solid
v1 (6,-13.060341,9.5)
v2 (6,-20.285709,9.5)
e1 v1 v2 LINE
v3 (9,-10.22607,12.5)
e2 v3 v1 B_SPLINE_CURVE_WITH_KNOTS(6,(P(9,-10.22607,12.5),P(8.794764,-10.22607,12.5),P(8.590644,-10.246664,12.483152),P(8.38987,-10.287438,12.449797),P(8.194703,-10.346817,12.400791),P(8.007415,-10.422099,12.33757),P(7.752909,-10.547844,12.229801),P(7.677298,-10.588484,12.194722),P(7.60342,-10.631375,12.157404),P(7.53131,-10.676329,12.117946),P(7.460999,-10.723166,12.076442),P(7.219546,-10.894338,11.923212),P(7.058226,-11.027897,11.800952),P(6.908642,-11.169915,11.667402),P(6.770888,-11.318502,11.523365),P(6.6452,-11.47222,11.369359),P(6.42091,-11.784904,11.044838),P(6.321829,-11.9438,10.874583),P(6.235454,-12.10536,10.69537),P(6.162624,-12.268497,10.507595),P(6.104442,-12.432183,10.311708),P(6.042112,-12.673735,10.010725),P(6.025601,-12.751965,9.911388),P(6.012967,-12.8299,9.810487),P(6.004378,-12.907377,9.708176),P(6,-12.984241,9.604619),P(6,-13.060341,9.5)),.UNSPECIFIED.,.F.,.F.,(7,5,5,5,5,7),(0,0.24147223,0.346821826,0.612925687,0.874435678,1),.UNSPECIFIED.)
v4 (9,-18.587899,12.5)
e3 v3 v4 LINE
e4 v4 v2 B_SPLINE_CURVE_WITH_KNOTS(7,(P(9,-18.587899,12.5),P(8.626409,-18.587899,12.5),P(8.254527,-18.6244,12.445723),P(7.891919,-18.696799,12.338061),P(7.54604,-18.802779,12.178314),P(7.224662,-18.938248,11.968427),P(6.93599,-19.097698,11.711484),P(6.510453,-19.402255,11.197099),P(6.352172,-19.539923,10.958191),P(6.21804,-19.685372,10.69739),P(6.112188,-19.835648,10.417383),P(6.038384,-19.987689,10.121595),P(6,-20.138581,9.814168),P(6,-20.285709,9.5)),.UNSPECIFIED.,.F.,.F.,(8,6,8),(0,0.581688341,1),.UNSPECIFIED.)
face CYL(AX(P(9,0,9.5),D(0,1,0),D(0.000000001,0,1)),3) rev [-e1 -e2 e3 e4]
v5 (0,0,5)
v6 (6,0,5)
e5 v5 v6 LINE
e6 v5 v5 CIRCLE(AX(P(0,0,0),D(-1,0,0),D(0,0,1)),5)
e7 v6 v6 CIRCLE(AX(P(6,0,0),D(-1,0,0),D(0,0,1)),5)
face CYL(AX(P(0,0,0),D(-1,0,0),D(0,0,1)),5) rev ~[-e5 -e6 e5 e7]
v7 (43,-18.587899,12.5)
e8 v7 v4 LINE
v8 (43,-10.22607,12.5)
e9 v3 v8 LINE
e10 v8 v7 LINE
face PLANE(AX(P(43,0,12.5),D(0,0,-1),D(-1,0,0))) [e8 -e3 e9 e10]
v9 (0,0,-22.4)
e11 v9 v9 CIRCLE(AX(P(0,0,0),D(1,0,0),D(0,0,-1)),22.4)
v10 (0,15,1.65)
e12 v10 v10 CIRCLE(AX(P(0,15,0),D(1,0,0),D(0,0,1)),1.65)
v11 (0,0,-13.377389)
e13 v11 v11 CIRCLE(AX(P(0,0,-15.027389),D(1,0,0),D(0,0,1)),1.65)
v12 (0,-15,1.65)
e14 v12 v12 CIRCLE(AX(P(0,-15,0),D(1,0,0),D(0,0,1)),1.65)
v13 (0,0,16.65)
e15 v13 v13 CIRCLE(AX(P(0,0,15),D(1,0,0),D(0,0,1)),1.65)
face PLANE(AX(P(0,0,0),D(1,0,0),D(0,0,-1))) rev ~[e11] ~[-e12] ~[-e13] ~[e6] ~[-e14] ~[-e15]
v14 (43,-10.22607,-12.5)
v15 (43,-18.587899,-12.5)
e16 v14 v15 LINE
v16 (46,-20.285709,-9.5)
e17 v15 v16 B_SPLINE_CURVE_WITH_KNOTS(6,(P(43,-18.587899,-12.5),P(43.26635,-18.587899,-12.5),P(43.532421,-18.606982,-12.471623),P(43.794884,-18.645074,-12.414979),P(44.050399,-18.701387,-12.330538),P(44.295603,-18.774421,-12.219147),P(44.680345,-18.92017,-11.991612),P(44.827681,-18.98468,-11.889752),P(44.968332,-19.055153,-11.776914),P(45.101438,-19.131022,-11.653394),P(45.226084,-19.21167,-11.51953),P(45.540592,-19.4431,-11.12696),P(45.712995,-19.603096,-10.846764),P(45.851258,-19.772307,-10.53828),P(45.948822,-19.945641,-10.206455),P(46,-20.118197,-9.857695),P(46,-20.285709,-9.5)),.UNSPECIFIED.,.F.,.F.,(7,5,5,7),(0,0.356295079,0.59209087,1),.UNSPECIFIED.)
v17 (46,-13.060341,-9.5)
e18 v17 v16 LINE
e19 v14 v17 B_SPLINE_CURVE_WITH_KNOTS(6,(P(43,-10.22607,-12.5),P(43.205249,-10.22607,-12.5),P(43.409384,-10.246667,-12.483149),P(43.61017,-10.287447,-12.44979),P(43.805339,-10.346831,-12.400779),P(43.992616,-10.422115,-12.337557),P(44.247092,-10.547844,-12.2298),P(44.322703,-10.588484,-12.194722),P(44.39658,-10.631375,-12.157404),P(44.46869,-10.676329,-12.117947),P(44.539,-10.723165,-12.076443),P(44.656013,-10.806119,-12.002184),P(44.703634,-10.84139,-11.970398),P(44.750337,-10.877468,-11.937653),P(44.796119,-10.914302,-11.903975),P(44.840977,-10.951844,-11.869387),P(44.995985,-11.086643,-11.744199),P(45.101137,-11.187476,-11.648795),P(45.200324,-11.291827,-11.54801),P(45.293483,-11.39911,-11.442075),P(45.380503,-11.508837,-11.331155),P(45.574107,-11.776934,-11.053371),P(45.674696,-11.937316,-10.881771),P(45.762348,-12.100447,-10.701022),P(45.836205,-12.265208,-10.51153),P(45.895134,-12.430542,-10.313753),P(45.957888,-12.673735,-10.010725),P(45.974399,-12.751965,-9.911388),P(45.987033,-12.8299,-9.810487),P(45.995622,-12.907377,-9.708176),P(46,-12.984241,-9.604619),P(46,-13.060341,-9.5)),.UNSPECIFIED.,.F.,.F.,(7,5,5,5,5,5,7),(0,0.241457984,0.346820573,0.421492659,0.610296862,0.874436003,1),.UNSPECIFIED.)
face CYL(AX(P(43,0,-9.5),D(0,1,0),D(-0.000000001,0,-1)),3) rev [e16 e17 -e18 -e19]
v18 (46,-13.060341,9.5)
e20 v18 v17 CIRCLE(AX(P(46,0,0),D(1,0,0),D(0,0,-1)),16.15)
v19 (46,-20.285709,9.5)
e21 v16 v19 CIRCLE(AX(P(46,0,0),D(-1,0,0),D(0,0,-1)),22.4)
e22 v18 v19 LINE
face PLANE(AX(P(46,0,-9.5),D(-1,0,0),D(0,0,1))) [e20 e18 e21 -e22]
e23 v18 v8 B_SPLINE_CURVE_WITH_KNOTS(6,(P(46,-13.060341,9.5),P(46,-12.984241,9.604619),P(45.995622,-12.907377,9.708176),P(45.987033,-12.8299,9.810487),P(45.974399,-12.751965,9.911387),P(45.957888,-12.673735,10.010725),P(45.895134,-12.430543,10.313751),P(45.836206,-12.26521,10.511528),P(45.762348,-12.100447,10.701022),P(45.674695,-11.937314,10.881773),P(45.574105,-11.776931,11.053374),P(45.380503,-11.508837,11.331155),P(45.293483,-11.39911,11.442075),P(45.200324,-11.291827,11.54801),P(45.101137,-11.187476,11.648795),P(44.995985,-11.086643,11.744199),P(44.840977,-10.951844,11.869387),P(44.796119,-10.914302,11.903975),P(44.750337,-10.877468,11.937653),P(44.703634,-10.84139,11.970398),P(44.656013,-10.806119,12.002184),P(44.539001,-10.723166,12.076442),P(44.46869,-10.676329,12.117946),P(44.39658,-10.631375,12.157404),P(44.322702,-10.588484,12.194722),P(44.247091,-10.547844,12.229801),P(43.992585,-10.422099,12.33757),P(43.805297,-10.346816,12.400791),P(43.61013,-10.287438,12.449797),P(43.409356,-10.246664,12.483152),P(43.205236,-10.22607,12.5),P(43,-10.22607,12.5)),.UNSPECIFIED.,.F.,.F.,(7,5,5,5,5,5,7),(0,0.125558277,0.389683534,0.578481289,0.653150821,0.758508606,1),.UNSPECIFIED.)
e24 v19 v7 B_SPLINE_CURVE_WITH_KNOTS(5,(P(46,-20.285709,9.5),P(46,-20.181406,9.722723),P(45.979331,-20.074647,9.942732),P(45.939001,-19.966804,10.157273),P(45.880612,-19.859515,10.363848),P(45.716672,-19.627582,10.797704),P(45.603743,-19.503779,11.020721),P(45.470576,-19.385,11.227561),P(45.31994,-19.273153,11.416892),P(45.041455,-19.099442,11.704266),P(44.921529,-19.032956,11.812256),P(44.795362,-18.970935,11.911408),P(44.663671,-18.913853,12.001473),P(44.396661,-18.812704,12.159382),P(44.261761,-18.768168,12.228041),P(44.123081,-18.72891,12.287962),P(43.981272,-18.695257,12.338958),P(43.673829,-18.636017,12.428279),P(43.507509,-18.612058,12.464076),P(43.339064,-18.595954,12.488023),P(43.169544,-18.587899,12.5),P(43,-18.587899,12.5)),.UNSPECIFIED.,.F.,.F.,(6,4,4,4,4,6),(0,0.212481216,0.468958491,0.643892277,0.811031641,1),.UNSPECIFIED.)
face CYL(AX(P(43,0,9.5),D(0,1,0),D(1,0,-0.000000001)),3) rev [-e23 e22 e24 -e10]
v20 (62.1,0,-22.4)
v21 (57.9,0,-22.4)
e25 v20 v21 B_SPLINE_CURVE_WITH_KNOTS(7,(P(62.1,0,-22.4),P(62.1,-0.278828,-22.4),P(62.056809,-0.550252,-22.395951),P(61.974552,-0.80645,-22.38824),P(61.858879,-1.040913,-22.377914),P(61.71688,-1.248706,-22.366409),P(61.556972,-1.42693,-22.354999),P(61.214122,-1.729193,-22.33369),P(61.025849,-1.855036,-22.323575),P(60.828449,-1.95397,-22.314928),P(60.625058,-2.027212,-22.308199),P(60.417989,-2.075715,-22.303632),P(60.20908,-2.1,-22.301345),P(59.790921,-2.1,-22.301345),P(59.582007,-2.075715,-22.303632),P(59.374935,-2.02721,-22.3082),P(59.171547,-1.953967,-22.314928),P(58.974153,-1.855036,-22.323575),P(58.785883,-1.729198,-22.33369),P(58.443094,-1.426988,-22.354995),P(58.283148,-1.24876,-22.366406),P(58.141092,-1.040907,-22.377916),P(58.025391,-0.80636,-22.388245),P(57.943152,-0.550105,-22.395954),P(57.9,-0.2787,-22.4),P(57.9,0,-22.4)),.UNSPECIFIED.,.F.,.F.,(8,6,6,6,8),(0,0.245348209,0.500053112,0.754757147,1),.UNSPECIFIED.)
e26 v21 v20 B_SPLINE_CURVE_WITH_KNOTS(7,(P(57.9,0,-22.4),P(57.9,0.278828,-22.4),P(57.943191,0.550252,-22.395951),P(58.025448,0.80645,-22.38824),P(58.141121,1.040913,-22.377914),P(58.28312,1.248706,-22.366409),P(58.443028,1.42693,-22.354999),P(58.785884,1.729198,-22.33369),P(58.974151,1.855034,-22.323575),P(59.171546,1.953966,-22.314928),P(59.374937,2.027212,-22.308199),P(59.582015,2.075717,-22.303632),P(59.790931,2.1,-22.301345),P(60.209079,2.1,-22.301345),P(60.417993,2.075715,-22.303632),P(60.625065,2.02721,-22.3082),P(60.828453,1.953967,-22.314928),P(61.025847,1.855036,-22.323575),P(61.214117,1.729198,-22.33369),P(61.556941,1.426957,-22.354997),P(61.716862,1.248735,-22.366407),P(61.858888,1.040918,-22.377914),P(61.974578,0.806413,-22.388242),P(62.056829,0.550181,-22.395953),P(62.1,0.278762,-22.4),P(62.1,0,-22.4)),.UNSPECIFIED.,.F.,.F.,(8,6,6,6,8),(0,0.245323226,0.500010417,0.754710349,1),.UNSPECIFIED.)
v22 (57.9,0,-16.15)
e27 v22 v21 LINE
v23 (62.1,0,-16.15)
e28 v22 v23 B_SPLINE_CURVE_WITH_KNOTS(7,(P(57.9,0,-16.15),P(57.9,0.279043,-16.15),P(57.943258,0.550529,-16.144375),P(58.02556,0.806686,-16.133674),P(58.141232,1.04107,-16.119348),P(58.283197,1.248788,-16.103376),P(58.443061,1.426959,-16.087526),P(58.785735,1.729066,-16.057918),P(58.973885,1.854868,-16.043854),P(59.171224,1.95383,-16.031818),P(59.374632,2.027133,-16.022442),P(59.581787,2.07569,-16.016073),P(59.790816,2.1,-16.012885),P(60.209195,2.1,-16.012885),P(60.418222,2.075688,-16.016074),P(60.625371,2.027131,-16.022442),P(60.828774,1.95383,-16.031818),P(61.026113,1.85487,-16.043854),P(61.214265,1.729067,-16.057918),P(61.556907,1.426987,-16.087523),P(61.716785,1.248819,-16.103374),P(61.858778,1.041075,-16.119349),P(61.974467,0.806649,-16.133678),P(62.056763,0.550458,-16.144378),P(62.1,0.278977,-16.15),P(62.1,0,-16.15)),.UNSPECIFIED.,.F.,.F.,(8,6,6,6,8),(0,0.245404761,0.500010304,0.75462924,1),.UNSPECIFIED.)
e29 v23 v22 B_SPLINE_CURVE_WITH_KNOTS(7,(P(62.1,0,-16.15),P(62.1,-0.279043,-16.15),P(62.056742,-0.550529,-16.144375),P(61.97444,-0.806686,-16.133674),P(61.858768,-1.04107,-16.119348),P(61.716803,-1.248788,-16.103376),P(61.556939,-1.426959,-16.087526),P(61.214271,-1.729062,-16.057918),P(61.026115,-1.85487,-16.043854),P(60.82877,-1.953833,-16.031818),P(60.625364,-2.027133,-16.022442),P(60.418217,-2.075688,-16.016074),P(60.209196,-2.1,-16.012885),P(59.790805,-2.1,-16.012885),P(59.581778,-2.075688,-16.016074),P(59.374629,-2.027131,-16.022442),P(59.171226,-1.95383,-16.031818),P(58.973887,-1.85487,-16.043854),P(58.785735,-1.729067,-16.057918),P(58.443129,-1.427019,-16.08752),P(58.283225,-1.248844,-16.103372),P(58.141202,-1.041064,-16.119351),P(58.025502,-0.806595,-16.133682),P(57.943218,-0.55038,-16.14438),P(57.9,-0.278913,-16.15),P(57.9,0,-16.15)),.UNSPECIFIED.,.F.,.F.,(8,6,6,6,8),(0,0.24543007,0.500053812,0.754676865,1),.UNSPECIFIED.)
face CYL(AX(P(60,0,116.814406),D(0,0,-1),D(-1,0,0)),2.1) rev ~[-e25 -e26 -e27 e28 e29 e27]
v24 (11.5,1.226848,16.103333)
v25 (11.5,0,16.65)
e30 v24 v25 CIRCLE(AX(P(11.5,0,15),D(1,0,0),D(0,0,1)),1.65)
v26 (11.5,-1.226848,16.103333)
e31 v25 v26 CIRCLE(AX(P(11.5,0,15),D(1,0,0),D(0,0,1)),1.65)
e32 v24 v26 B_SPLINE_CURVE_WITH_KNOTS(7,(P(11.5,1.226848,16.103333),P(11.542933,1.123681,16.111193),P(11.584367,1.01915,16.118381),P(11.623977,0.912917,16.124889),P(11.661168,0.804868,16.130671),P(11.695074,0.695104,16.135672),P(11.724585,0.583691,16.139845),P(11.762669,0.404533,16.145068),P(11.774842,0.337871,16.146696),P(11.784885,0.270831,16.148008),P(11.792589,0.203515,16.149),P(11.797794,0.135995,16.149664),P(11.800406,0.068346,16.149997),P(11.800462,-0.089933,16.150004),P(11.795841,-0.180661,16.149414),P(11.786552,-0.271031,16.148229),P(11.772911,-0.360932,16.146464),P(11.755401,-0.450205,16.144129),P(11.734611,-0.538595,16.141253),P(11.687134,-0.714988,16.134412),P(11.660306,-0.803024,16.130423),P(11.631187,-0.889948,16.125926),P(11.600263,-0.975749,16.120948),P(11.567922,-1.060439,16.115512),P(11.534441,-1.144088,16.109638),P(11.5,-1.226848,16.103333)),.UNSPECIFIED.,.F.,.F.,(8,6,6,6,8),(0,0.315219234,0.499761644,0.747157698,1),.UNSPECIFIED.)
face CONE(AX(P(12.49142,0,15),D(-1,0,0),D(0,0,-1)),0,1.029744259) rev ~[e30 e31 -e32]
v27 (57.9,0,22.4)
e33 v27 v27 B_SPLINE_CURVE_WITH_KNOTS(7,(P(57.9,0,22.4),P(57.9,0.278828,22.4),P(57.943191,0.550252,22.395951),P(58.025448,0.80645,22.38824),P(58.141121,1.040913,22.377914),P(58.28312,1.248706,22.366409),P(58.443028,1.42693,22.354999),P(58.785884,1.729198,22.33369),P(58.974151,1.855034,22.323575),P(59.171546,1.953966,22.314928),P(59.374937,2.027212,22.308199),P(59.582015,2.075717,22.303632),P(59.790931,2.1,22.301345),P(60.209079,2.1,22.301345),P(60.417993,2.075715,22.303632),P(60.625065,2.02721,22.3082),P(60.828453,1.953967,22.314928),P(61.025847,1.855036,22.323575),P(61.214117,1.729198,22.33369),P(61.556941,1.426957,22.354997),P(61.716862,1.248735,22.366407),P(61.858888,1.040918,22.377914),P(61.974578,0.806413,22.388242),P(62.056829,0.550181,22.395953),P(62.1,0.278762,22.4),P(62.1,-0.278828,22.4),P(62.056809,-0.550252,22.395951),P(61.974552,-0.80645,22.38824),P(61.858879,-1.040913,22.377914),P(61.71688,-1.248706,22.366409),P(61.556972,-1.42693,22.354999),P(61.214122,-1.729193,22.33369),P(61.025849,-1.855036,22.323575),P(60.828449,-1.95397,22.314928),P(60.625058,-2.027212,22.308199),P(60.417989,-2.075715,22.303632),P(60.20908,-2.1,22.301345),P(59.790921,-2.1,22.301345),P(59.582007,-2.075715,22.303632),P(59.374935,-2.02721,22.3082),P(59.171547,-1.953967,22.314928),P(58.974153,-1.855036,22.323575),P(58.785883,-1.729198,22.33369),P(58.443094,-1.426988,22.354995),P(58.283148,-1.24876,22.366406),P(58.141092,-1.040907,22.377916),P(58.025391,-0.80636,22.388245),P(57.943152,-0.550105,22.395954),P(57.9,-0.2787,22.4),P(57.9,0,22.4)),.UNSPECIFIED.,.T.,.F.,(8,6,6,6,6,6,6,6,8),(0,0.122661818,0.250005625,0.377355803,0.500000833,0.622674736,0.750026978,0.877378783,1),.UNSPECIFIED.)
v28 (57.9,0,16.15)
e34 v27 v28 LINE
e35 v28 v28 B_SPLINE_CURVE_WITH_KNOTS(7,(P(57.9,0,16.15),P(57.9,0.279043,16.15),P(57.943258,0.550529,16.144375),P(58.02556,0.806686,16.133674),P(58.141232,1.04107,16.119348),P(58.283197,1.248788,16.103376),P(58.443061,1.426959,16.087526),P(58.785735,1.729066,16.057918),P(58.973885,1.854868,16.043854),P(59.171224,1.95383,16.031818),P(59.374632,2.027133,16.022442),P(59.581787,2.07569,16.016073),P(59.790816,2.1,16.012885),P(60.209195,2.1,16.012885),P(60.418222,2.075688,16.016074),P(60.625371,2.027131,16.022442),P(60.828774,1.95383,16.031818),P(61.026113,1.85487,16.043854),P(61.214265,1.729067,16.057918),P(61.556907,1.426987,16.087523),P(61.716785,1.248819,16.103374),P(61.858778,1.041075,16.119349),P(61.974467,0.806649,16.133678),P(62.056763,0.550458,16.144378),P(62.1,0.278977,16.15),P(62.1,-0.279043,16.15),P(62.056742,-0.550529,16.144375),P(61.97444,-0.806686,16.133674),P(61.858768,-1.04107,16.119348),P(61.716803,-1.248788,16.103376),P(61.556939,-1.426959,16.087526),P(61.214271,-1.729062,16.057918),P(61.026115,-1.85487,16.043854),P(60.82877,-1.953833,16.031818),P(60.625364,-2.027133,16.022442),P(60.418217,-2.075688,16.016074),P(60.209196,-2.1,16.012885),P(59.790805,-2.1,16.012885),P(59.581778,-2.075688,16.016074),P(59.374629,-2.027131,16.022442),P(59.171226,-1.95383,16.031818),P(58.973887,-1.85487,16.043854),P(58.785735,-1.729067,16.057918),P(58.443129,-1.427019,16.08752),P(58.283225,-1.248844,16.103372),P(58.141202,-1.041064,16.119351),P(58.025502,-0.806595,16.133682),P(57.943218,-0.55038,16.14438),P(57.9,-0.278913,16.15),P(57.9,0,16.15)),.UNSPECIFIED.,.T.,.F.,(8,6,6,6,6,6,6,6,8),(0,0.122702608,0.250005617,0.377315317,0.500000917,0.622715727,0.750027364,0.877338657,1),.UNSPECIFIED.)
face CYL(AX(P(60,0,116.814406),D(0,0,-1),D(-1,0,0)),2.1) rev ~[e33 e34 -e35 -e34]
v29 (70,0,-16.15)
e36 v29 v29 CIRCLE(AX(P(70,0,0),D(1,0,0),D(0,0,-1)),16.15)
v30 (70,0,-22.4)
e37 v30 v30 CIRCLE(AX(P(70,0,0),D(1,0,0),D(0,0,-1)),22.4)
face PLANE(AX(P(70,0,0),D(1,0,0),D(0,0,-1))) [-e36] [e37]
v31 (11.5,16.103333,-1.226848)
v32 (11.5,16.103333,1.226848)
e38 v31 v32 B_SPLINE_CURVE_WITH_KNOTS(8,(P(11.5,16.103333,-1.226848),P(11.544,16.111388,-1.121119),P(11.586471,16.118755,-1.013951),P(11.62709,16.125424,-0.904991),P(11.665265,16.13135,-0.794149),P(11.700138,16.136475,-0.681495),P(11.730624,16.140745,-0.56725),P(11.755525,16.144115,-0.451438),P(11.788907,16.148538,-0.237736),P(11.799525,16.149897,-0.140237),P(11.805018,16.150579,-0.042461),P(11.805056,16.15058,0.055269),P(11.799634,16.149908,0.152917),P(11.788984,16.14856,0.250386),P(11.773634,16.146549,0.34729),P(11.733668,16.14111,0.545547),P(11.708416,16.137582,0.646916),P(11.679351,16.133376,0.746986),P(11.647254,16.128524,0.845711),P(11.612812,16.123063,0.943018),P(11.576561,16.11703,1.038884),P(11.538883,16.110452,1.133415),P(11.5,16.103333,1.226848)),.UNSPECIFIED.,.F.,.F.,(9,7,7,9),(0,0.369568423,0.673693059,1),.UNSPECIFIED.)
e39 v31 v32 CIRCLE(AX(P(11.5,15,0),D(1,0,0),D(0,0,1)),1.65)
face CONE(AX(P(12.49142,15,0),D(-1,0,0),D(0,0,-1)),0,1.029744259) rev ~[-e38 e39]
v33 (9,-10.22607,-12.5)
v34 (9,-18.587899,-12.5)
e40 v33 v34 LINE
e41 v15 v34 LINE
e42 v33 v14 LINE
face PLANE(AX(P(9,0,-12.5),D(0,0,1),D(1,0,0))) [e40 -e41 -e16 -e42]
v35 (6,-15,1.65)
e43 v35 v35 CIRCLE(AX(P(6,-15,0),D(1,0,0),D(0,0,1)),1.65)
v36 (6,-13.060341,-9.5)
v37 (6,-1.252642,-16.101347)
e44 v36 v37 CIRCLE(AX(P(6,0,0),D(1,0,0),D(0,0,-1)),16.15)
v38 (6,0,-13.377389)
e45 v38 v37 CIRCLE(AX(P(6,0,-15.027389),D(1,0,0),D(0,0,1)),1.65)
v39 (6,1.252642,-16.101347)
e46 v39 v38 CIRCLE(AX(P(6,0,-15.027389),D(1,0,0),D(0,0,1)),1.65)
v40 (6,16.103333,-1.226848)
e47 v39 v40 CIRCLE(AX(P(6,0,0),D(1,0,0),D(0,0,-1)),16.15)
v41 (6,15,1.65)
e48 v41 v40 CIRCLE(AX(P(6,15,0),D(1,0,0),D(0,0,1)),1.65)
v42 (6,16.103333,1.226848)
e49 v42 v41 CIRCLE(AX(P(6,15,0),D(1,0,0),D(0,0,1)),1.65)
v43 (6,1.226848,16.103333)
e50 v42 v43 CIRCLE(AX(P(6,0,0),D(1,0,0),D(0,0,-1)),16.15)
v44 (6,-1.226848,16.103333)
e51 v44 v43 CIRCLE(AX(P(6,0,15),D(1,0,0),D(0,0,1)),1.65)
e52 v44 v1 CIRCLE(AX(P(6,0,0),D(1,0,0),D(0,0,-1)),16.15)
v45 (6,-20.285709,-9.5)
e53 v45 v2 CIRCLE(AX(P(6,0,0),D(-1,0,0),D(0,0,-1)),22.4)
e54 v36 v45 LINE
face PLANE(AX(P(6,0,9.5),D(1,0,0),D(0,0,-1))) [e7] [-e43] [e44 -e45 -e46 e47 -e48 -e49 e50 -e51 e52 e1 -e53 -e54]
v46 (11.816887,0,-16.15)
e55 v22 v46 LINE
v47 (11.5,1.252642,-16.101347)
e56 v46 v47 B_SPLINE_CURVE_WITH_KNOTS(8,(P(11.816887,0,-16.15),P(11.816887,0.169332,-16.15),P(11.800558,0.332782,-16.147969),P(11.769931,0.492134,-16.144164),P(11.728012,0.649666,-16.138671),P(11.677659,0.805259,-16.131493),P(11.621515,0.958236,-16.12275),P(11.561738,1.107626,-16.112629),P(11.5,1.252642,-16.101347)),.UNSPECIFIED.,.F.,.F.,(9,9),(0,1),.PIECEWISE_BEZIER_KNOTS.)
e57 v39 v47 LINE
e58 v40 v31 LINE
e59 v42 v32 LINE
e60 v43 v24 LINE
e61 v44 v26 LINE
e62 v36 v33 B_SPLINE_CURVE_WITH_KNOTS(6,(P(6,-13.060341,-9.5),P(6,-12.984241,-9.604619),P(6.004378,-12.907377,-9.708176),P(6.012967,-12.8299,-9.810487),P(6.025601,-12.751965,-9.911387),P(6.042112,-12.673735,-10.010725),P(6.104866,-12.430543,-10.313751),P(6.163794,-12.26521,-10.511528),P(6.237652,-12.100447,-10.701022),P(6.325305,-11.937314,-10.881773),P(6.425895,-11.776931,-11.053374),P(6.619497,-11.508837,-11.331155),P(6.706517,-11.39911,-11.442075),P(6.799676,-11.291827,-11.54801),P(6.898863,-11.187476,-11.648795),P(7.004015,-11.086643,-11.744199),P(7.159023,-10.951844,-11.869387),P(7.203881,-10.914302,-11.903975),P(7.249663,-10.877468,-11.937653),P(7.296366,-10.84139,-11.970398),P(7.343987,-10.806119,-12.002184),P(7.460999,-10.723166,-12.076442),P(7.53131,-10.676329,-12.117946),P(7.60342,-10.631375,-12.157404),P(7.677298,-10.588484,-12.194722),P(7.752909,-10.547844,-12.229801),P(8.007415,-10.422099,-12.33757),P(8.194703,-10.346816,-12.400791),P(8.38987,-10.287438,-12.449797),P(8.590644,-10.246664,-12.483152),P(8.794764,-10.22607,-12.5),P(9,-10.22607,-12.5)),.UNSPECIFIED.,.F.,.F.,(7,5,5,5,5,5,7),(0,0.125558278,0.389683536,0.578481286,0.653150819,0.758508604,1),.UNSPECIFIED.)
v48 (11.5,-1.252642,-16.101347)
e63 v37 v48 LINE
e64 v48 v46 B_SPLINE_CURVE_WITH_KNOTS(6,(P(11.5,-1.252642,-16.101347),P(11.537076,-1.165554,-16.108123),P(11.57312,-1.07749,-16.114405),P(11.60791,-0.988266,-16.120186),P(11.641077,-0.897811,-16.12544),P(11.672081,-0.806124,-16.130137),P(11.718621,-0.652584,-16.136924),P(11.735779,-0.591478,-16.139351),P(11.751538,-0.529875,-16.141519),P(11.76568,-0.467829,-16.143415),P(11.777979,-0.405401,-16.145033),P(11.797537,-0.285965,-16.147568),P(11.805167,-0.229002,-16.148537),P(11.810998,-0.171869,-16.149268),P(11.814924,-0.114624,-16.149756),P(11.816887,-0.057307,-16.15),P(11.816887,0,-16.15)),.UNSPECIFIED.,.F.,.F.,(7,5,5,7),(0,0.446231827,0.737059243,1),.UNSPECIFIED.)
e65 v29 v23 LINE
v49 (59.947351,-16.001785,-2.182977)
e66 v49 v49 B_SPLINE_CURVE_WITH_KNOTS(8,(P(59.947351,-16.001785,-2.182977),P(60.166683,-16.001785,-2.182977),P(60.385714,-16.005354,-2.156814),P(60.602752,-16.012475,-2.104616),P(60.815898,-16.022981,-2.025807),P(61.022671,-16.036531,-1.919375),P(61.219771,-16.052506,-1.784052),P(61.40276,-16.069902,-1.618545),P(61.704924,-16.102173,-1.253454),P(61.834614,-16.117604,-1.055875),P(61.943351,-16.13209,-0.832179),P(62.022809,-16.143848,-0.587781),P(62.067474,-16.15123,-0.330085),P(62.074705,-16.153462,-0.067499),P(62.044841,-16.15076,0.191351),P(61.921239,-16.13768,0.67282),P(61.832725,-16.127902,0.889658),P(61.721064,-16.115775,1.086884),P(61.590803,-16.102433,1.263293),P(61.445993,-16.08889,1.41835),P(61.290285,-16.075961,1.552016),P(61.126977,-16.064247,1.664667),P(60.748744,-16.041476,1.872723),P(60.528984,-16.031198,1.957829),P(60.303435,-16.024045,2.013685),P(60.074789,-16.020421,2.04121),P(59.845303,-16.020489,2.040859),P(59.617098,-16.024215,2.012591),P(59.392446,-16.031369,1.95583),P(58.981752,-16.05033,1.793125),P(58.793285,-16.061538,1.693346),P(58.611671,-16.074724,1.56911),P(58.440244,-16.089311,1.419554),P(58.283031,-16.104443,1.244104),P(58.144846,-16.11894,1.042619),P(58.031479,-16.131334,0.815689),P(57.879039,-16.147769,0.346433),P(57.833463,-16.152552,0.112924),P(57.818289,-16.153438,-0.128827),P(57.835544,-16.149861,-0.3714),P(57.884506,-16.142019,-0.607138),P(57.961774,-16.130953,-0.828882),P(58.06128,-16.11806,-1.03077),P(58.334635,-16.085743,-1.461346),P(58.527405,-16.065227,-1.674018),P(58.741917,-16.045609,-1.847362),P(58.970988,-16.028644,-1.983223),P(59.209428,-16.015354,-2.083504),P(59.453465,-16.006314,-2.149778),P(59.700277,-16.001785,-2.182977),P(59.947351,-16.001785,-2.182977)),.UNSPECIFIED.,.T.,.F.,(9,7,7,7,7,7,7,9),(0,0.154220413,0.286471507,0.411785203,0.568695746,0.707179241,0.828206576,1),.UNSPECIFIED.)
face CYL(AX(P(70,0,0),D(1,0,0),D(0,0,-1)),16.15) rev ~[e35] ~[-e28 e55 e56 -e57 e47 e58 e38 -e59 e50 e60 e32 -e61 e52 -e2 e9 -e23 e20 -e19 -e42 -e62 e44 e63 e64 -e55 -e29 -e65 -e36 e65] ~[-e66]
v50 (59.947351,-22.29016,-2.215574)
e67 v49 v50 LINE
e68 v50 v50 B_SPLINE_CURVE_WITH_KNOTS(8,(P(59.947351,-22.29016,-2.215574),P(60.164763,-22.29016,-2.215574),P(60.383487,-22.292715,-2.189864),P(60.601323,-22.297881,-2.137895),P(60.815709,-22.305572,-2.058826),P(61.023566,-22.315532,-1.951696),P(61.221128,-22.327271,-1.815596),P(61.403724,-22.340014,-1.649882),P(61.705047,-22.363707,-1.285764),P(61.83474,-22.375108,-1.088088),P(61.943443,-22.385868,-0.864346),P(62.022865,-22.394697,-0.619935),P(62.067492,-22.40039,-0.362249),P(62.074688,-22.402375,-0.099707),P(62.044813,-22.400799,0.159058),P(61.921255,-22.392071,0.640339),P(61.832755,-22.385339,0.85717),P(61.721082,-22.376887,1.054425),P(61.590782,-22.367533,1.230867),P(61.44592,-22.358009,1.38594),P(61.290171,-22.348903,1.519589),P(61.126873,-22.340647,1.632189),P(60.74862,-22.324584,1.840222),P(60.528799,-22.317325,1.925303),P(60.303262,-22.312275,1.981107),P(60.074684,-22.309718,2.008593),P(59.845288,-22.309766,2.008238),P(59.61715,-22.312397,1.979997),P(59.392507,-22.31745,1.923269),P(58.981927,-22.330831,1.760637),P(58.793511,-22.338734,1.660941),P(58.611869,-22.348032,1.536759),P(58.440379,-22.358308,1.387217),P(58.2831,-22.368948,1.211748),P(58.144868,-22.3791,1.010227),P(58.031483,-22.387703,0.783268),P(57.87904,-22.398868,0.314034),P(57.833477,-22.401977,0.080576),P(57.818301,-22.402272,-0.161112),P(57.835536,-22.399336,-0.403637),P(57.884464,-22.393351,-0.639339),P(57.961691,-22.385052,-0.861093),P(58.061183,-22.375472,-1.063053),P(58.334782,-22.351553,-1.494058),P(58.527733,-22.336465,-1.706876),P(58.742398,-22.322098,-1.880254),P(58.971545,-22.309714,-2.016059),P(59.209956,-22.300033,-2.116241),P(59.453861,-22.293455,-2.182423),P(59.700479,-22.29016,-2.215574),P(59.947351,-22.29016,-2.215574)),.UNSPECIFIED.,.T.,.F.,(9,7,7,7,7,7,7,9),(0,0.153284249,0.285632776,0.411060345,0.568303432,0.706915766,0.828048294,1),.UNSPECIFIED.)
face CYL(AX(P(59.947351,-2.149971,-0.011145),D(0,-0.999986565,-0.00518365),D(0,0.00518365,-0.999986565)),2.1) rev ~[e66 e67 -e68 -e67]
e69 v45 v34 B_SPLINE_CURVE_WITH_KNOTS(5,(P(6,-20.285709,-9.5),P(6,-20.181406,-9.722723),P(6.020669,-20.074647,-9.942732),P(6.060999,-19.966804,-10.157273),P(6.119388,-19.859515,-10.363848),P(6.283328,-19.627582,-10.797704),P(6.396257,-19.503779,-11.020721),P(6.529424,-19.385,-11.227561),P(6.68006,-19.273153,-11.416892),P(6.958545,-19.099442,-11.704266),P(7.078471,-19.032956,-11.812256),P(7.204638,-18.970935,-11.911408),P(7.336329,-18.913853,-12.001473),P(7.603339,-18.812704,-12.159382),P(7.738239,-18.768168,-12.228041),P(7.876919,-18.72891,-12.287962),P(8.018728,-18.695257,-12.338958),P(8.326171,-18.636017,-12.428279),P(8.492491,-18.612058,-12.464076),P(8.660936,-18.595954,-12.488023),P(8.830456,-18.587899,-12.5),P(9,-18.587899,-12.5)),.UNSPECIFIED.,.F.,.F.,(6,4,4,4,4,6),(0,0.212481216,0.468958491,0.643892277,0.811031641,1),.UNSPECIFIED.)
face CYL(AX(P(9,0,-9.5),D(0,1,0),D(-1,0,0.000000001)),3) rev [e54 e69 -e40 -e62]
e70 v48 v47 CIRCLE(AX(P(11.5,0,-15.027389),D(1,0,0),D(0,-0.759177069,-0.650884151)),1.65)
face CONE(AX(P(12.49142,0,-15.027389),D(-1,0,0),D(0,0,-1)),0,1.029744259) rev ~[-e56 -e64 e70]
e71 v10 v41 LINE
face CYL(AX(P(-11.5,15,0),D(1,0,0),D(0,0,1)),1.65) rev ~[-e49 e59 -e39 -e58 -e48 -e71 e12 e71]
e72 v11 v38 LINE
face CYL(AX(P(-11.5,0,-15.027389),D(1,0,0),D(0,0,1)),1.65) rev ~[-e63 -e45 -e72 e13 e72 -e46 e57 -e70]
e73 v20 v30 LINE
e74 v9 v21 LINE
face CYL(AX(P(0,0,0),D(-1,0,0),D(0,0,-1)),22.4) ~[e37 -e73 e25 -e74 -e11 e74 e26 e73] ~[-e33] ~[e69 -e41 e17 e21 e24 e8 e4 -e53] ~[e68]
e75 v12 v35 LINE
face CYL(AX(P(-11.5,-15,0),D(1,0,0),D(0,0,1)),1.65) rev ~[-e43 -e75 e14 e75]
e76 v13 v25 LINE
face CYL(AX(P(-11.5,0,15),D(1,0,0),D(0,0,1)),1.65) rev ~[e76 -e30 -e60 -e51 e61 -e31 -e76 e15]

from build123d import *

# Parameters (mm, degrees)
SKETCH1_R             = 22.4
EXTRUDE1_DEPTH        = 70
SKETCH2_R             = 16.15
EXTRUDE2_DEPTH        = 64
SKETCH3_R             = 5
EXTRUDE3_DEPTH        = 10
EXTRUDE5_DEPTH        = 30
M5_TAPPED_HOLE3_D     = 4.2
M5_TAPPED_HOLE5_D     = 4.2
M5_TAPPED_HOLE5_DEPTH = 14
M5_TAPPED_HOLE5_TIP   = 1.2618073
M4_TAPPED_HOLE1_D     = 3.3
M4_TAPPED_HOLE1_DEPTH = 11.5
M4_TAPPED_HOLE1_TIP   = 0.991420021


with BuildPart() as part:
    # Sketch1 → Extrude1 (new body)
    with BuildSketch(Plane(origin=(0, 0, 0), x_dir=(0, 0, -1), z_dir=(1, 0, 0))):
        Circle(SKETCH1_R)
    extrude(amount=EXTRUDE1_DEPTH)

    # Sketch2 → Extrude2 (cut)
    with BuildSketch(Plane(origin=(70, 0, 0), x_dir=(0, 0, -1), z_dir=(1, 0, 0))):
        Circle(SKETCH2_R)
    extrude(amount=-EXTRUDE2_DEPTH, mode=Mode.SUBTRACT)

    # Sketch3 → Extrude3 (cut)
    with BuildSketch(Plane.ZY):
        Circle(SKETCH3_R)
    extrude(amount=-EXTRUDE3_DEPTH, mode=Mode.SUBTRACT)

    # Sketch7 → Extrude5 (cut)
    with BuildSketch(Plane(origin=(0, 0, 0), x_dir=(1, 0, 0), z_dir=(0, 1, 0))):
        with BuildLine():
            Line((9, 12.5), (43, 12.5))
            ThreePointArc((43, 12.5), (45.121320344, 11.621320344), (46, 9.5))
            Line((46, 9.5), (46, -9.5))
            ThreePointArc((46, -9.5), (45.121320344, -11.621320344), (43, -12.5))
            Line((43, -12.5), (9, -12.5))
            ThreePointArc((9, -12.5), (6.878679656, -11.621320344), (6, -9.5))
            Line((6, -9.5), (6, 9.5))
            ThreePointArc((6, 9.5), (6.878679656, 11.621320344), (9, 12.5))
        make_face()
    extrude(amount=-EXTRUDE5_DEPTH, mode=Mode.SUBTRACT)

    # M5 Tapped Hole3 (through all)
    with Locations(Plane(origin=(60, 0, 22.4), x_dir=(1, 0, 0), z_dir=(0, 0, 1))):
        with Locations((0, 0)):
            Hole(M5_TAPPED_HOLE3_D / 2)

    # M5 Tapped Hole5
    with Locations(Plane(origin=(59.947350676, -16.149783021, -0.083715942), x_dir=(0, -0.005183649651, 0.999986564798), z_dir=(0, 0.999986564798, 0.005183649651))):
        with Locations((0, 0)):
            Hole(M5_TAPPED_HOLE5_D / 2, depth=M5_TAPPED_HOLE5_DEPTH)
            with Locations((0, 0, -(M5_TAPPED_HOLE5_DEPTH + M5_TAPPED_HOLE5_TIP / 2))):  # 118° drill point
                Cone(0, M5_TAPPED_HOLE5_D / 2, M5_TAPPED_HOLE5_TIP, mode=Mode.SUBTRACT)

    # M4 Tapped Hole1
    with Locations(Plane(origin=(0, 0, -15.027388536), x_dir=(0, 0, -1), z_dir=(-1, 0, 0))):
        with Locations((0, 0), (-15.027388536, -15), (-30.027388536, 0), (-15.027388536, 15)):
            Hole(M4_TAPPED_HOLE1_D / 2, depth=M4_TAPPED_HOLE1_DEPTH)
            with Locations((0, 0, -(M4_TAPPED_HOLE1_DEPTH + M4_TAPPED_HOLE1_TIP / 2))):  # 118° drill point
                Cone(0, M4_TAPPED_HOLE1_D / 2, M4_TAPPED_HOLE1_TIP, mode=Mode.SUBTRACT)


solid = part.part
